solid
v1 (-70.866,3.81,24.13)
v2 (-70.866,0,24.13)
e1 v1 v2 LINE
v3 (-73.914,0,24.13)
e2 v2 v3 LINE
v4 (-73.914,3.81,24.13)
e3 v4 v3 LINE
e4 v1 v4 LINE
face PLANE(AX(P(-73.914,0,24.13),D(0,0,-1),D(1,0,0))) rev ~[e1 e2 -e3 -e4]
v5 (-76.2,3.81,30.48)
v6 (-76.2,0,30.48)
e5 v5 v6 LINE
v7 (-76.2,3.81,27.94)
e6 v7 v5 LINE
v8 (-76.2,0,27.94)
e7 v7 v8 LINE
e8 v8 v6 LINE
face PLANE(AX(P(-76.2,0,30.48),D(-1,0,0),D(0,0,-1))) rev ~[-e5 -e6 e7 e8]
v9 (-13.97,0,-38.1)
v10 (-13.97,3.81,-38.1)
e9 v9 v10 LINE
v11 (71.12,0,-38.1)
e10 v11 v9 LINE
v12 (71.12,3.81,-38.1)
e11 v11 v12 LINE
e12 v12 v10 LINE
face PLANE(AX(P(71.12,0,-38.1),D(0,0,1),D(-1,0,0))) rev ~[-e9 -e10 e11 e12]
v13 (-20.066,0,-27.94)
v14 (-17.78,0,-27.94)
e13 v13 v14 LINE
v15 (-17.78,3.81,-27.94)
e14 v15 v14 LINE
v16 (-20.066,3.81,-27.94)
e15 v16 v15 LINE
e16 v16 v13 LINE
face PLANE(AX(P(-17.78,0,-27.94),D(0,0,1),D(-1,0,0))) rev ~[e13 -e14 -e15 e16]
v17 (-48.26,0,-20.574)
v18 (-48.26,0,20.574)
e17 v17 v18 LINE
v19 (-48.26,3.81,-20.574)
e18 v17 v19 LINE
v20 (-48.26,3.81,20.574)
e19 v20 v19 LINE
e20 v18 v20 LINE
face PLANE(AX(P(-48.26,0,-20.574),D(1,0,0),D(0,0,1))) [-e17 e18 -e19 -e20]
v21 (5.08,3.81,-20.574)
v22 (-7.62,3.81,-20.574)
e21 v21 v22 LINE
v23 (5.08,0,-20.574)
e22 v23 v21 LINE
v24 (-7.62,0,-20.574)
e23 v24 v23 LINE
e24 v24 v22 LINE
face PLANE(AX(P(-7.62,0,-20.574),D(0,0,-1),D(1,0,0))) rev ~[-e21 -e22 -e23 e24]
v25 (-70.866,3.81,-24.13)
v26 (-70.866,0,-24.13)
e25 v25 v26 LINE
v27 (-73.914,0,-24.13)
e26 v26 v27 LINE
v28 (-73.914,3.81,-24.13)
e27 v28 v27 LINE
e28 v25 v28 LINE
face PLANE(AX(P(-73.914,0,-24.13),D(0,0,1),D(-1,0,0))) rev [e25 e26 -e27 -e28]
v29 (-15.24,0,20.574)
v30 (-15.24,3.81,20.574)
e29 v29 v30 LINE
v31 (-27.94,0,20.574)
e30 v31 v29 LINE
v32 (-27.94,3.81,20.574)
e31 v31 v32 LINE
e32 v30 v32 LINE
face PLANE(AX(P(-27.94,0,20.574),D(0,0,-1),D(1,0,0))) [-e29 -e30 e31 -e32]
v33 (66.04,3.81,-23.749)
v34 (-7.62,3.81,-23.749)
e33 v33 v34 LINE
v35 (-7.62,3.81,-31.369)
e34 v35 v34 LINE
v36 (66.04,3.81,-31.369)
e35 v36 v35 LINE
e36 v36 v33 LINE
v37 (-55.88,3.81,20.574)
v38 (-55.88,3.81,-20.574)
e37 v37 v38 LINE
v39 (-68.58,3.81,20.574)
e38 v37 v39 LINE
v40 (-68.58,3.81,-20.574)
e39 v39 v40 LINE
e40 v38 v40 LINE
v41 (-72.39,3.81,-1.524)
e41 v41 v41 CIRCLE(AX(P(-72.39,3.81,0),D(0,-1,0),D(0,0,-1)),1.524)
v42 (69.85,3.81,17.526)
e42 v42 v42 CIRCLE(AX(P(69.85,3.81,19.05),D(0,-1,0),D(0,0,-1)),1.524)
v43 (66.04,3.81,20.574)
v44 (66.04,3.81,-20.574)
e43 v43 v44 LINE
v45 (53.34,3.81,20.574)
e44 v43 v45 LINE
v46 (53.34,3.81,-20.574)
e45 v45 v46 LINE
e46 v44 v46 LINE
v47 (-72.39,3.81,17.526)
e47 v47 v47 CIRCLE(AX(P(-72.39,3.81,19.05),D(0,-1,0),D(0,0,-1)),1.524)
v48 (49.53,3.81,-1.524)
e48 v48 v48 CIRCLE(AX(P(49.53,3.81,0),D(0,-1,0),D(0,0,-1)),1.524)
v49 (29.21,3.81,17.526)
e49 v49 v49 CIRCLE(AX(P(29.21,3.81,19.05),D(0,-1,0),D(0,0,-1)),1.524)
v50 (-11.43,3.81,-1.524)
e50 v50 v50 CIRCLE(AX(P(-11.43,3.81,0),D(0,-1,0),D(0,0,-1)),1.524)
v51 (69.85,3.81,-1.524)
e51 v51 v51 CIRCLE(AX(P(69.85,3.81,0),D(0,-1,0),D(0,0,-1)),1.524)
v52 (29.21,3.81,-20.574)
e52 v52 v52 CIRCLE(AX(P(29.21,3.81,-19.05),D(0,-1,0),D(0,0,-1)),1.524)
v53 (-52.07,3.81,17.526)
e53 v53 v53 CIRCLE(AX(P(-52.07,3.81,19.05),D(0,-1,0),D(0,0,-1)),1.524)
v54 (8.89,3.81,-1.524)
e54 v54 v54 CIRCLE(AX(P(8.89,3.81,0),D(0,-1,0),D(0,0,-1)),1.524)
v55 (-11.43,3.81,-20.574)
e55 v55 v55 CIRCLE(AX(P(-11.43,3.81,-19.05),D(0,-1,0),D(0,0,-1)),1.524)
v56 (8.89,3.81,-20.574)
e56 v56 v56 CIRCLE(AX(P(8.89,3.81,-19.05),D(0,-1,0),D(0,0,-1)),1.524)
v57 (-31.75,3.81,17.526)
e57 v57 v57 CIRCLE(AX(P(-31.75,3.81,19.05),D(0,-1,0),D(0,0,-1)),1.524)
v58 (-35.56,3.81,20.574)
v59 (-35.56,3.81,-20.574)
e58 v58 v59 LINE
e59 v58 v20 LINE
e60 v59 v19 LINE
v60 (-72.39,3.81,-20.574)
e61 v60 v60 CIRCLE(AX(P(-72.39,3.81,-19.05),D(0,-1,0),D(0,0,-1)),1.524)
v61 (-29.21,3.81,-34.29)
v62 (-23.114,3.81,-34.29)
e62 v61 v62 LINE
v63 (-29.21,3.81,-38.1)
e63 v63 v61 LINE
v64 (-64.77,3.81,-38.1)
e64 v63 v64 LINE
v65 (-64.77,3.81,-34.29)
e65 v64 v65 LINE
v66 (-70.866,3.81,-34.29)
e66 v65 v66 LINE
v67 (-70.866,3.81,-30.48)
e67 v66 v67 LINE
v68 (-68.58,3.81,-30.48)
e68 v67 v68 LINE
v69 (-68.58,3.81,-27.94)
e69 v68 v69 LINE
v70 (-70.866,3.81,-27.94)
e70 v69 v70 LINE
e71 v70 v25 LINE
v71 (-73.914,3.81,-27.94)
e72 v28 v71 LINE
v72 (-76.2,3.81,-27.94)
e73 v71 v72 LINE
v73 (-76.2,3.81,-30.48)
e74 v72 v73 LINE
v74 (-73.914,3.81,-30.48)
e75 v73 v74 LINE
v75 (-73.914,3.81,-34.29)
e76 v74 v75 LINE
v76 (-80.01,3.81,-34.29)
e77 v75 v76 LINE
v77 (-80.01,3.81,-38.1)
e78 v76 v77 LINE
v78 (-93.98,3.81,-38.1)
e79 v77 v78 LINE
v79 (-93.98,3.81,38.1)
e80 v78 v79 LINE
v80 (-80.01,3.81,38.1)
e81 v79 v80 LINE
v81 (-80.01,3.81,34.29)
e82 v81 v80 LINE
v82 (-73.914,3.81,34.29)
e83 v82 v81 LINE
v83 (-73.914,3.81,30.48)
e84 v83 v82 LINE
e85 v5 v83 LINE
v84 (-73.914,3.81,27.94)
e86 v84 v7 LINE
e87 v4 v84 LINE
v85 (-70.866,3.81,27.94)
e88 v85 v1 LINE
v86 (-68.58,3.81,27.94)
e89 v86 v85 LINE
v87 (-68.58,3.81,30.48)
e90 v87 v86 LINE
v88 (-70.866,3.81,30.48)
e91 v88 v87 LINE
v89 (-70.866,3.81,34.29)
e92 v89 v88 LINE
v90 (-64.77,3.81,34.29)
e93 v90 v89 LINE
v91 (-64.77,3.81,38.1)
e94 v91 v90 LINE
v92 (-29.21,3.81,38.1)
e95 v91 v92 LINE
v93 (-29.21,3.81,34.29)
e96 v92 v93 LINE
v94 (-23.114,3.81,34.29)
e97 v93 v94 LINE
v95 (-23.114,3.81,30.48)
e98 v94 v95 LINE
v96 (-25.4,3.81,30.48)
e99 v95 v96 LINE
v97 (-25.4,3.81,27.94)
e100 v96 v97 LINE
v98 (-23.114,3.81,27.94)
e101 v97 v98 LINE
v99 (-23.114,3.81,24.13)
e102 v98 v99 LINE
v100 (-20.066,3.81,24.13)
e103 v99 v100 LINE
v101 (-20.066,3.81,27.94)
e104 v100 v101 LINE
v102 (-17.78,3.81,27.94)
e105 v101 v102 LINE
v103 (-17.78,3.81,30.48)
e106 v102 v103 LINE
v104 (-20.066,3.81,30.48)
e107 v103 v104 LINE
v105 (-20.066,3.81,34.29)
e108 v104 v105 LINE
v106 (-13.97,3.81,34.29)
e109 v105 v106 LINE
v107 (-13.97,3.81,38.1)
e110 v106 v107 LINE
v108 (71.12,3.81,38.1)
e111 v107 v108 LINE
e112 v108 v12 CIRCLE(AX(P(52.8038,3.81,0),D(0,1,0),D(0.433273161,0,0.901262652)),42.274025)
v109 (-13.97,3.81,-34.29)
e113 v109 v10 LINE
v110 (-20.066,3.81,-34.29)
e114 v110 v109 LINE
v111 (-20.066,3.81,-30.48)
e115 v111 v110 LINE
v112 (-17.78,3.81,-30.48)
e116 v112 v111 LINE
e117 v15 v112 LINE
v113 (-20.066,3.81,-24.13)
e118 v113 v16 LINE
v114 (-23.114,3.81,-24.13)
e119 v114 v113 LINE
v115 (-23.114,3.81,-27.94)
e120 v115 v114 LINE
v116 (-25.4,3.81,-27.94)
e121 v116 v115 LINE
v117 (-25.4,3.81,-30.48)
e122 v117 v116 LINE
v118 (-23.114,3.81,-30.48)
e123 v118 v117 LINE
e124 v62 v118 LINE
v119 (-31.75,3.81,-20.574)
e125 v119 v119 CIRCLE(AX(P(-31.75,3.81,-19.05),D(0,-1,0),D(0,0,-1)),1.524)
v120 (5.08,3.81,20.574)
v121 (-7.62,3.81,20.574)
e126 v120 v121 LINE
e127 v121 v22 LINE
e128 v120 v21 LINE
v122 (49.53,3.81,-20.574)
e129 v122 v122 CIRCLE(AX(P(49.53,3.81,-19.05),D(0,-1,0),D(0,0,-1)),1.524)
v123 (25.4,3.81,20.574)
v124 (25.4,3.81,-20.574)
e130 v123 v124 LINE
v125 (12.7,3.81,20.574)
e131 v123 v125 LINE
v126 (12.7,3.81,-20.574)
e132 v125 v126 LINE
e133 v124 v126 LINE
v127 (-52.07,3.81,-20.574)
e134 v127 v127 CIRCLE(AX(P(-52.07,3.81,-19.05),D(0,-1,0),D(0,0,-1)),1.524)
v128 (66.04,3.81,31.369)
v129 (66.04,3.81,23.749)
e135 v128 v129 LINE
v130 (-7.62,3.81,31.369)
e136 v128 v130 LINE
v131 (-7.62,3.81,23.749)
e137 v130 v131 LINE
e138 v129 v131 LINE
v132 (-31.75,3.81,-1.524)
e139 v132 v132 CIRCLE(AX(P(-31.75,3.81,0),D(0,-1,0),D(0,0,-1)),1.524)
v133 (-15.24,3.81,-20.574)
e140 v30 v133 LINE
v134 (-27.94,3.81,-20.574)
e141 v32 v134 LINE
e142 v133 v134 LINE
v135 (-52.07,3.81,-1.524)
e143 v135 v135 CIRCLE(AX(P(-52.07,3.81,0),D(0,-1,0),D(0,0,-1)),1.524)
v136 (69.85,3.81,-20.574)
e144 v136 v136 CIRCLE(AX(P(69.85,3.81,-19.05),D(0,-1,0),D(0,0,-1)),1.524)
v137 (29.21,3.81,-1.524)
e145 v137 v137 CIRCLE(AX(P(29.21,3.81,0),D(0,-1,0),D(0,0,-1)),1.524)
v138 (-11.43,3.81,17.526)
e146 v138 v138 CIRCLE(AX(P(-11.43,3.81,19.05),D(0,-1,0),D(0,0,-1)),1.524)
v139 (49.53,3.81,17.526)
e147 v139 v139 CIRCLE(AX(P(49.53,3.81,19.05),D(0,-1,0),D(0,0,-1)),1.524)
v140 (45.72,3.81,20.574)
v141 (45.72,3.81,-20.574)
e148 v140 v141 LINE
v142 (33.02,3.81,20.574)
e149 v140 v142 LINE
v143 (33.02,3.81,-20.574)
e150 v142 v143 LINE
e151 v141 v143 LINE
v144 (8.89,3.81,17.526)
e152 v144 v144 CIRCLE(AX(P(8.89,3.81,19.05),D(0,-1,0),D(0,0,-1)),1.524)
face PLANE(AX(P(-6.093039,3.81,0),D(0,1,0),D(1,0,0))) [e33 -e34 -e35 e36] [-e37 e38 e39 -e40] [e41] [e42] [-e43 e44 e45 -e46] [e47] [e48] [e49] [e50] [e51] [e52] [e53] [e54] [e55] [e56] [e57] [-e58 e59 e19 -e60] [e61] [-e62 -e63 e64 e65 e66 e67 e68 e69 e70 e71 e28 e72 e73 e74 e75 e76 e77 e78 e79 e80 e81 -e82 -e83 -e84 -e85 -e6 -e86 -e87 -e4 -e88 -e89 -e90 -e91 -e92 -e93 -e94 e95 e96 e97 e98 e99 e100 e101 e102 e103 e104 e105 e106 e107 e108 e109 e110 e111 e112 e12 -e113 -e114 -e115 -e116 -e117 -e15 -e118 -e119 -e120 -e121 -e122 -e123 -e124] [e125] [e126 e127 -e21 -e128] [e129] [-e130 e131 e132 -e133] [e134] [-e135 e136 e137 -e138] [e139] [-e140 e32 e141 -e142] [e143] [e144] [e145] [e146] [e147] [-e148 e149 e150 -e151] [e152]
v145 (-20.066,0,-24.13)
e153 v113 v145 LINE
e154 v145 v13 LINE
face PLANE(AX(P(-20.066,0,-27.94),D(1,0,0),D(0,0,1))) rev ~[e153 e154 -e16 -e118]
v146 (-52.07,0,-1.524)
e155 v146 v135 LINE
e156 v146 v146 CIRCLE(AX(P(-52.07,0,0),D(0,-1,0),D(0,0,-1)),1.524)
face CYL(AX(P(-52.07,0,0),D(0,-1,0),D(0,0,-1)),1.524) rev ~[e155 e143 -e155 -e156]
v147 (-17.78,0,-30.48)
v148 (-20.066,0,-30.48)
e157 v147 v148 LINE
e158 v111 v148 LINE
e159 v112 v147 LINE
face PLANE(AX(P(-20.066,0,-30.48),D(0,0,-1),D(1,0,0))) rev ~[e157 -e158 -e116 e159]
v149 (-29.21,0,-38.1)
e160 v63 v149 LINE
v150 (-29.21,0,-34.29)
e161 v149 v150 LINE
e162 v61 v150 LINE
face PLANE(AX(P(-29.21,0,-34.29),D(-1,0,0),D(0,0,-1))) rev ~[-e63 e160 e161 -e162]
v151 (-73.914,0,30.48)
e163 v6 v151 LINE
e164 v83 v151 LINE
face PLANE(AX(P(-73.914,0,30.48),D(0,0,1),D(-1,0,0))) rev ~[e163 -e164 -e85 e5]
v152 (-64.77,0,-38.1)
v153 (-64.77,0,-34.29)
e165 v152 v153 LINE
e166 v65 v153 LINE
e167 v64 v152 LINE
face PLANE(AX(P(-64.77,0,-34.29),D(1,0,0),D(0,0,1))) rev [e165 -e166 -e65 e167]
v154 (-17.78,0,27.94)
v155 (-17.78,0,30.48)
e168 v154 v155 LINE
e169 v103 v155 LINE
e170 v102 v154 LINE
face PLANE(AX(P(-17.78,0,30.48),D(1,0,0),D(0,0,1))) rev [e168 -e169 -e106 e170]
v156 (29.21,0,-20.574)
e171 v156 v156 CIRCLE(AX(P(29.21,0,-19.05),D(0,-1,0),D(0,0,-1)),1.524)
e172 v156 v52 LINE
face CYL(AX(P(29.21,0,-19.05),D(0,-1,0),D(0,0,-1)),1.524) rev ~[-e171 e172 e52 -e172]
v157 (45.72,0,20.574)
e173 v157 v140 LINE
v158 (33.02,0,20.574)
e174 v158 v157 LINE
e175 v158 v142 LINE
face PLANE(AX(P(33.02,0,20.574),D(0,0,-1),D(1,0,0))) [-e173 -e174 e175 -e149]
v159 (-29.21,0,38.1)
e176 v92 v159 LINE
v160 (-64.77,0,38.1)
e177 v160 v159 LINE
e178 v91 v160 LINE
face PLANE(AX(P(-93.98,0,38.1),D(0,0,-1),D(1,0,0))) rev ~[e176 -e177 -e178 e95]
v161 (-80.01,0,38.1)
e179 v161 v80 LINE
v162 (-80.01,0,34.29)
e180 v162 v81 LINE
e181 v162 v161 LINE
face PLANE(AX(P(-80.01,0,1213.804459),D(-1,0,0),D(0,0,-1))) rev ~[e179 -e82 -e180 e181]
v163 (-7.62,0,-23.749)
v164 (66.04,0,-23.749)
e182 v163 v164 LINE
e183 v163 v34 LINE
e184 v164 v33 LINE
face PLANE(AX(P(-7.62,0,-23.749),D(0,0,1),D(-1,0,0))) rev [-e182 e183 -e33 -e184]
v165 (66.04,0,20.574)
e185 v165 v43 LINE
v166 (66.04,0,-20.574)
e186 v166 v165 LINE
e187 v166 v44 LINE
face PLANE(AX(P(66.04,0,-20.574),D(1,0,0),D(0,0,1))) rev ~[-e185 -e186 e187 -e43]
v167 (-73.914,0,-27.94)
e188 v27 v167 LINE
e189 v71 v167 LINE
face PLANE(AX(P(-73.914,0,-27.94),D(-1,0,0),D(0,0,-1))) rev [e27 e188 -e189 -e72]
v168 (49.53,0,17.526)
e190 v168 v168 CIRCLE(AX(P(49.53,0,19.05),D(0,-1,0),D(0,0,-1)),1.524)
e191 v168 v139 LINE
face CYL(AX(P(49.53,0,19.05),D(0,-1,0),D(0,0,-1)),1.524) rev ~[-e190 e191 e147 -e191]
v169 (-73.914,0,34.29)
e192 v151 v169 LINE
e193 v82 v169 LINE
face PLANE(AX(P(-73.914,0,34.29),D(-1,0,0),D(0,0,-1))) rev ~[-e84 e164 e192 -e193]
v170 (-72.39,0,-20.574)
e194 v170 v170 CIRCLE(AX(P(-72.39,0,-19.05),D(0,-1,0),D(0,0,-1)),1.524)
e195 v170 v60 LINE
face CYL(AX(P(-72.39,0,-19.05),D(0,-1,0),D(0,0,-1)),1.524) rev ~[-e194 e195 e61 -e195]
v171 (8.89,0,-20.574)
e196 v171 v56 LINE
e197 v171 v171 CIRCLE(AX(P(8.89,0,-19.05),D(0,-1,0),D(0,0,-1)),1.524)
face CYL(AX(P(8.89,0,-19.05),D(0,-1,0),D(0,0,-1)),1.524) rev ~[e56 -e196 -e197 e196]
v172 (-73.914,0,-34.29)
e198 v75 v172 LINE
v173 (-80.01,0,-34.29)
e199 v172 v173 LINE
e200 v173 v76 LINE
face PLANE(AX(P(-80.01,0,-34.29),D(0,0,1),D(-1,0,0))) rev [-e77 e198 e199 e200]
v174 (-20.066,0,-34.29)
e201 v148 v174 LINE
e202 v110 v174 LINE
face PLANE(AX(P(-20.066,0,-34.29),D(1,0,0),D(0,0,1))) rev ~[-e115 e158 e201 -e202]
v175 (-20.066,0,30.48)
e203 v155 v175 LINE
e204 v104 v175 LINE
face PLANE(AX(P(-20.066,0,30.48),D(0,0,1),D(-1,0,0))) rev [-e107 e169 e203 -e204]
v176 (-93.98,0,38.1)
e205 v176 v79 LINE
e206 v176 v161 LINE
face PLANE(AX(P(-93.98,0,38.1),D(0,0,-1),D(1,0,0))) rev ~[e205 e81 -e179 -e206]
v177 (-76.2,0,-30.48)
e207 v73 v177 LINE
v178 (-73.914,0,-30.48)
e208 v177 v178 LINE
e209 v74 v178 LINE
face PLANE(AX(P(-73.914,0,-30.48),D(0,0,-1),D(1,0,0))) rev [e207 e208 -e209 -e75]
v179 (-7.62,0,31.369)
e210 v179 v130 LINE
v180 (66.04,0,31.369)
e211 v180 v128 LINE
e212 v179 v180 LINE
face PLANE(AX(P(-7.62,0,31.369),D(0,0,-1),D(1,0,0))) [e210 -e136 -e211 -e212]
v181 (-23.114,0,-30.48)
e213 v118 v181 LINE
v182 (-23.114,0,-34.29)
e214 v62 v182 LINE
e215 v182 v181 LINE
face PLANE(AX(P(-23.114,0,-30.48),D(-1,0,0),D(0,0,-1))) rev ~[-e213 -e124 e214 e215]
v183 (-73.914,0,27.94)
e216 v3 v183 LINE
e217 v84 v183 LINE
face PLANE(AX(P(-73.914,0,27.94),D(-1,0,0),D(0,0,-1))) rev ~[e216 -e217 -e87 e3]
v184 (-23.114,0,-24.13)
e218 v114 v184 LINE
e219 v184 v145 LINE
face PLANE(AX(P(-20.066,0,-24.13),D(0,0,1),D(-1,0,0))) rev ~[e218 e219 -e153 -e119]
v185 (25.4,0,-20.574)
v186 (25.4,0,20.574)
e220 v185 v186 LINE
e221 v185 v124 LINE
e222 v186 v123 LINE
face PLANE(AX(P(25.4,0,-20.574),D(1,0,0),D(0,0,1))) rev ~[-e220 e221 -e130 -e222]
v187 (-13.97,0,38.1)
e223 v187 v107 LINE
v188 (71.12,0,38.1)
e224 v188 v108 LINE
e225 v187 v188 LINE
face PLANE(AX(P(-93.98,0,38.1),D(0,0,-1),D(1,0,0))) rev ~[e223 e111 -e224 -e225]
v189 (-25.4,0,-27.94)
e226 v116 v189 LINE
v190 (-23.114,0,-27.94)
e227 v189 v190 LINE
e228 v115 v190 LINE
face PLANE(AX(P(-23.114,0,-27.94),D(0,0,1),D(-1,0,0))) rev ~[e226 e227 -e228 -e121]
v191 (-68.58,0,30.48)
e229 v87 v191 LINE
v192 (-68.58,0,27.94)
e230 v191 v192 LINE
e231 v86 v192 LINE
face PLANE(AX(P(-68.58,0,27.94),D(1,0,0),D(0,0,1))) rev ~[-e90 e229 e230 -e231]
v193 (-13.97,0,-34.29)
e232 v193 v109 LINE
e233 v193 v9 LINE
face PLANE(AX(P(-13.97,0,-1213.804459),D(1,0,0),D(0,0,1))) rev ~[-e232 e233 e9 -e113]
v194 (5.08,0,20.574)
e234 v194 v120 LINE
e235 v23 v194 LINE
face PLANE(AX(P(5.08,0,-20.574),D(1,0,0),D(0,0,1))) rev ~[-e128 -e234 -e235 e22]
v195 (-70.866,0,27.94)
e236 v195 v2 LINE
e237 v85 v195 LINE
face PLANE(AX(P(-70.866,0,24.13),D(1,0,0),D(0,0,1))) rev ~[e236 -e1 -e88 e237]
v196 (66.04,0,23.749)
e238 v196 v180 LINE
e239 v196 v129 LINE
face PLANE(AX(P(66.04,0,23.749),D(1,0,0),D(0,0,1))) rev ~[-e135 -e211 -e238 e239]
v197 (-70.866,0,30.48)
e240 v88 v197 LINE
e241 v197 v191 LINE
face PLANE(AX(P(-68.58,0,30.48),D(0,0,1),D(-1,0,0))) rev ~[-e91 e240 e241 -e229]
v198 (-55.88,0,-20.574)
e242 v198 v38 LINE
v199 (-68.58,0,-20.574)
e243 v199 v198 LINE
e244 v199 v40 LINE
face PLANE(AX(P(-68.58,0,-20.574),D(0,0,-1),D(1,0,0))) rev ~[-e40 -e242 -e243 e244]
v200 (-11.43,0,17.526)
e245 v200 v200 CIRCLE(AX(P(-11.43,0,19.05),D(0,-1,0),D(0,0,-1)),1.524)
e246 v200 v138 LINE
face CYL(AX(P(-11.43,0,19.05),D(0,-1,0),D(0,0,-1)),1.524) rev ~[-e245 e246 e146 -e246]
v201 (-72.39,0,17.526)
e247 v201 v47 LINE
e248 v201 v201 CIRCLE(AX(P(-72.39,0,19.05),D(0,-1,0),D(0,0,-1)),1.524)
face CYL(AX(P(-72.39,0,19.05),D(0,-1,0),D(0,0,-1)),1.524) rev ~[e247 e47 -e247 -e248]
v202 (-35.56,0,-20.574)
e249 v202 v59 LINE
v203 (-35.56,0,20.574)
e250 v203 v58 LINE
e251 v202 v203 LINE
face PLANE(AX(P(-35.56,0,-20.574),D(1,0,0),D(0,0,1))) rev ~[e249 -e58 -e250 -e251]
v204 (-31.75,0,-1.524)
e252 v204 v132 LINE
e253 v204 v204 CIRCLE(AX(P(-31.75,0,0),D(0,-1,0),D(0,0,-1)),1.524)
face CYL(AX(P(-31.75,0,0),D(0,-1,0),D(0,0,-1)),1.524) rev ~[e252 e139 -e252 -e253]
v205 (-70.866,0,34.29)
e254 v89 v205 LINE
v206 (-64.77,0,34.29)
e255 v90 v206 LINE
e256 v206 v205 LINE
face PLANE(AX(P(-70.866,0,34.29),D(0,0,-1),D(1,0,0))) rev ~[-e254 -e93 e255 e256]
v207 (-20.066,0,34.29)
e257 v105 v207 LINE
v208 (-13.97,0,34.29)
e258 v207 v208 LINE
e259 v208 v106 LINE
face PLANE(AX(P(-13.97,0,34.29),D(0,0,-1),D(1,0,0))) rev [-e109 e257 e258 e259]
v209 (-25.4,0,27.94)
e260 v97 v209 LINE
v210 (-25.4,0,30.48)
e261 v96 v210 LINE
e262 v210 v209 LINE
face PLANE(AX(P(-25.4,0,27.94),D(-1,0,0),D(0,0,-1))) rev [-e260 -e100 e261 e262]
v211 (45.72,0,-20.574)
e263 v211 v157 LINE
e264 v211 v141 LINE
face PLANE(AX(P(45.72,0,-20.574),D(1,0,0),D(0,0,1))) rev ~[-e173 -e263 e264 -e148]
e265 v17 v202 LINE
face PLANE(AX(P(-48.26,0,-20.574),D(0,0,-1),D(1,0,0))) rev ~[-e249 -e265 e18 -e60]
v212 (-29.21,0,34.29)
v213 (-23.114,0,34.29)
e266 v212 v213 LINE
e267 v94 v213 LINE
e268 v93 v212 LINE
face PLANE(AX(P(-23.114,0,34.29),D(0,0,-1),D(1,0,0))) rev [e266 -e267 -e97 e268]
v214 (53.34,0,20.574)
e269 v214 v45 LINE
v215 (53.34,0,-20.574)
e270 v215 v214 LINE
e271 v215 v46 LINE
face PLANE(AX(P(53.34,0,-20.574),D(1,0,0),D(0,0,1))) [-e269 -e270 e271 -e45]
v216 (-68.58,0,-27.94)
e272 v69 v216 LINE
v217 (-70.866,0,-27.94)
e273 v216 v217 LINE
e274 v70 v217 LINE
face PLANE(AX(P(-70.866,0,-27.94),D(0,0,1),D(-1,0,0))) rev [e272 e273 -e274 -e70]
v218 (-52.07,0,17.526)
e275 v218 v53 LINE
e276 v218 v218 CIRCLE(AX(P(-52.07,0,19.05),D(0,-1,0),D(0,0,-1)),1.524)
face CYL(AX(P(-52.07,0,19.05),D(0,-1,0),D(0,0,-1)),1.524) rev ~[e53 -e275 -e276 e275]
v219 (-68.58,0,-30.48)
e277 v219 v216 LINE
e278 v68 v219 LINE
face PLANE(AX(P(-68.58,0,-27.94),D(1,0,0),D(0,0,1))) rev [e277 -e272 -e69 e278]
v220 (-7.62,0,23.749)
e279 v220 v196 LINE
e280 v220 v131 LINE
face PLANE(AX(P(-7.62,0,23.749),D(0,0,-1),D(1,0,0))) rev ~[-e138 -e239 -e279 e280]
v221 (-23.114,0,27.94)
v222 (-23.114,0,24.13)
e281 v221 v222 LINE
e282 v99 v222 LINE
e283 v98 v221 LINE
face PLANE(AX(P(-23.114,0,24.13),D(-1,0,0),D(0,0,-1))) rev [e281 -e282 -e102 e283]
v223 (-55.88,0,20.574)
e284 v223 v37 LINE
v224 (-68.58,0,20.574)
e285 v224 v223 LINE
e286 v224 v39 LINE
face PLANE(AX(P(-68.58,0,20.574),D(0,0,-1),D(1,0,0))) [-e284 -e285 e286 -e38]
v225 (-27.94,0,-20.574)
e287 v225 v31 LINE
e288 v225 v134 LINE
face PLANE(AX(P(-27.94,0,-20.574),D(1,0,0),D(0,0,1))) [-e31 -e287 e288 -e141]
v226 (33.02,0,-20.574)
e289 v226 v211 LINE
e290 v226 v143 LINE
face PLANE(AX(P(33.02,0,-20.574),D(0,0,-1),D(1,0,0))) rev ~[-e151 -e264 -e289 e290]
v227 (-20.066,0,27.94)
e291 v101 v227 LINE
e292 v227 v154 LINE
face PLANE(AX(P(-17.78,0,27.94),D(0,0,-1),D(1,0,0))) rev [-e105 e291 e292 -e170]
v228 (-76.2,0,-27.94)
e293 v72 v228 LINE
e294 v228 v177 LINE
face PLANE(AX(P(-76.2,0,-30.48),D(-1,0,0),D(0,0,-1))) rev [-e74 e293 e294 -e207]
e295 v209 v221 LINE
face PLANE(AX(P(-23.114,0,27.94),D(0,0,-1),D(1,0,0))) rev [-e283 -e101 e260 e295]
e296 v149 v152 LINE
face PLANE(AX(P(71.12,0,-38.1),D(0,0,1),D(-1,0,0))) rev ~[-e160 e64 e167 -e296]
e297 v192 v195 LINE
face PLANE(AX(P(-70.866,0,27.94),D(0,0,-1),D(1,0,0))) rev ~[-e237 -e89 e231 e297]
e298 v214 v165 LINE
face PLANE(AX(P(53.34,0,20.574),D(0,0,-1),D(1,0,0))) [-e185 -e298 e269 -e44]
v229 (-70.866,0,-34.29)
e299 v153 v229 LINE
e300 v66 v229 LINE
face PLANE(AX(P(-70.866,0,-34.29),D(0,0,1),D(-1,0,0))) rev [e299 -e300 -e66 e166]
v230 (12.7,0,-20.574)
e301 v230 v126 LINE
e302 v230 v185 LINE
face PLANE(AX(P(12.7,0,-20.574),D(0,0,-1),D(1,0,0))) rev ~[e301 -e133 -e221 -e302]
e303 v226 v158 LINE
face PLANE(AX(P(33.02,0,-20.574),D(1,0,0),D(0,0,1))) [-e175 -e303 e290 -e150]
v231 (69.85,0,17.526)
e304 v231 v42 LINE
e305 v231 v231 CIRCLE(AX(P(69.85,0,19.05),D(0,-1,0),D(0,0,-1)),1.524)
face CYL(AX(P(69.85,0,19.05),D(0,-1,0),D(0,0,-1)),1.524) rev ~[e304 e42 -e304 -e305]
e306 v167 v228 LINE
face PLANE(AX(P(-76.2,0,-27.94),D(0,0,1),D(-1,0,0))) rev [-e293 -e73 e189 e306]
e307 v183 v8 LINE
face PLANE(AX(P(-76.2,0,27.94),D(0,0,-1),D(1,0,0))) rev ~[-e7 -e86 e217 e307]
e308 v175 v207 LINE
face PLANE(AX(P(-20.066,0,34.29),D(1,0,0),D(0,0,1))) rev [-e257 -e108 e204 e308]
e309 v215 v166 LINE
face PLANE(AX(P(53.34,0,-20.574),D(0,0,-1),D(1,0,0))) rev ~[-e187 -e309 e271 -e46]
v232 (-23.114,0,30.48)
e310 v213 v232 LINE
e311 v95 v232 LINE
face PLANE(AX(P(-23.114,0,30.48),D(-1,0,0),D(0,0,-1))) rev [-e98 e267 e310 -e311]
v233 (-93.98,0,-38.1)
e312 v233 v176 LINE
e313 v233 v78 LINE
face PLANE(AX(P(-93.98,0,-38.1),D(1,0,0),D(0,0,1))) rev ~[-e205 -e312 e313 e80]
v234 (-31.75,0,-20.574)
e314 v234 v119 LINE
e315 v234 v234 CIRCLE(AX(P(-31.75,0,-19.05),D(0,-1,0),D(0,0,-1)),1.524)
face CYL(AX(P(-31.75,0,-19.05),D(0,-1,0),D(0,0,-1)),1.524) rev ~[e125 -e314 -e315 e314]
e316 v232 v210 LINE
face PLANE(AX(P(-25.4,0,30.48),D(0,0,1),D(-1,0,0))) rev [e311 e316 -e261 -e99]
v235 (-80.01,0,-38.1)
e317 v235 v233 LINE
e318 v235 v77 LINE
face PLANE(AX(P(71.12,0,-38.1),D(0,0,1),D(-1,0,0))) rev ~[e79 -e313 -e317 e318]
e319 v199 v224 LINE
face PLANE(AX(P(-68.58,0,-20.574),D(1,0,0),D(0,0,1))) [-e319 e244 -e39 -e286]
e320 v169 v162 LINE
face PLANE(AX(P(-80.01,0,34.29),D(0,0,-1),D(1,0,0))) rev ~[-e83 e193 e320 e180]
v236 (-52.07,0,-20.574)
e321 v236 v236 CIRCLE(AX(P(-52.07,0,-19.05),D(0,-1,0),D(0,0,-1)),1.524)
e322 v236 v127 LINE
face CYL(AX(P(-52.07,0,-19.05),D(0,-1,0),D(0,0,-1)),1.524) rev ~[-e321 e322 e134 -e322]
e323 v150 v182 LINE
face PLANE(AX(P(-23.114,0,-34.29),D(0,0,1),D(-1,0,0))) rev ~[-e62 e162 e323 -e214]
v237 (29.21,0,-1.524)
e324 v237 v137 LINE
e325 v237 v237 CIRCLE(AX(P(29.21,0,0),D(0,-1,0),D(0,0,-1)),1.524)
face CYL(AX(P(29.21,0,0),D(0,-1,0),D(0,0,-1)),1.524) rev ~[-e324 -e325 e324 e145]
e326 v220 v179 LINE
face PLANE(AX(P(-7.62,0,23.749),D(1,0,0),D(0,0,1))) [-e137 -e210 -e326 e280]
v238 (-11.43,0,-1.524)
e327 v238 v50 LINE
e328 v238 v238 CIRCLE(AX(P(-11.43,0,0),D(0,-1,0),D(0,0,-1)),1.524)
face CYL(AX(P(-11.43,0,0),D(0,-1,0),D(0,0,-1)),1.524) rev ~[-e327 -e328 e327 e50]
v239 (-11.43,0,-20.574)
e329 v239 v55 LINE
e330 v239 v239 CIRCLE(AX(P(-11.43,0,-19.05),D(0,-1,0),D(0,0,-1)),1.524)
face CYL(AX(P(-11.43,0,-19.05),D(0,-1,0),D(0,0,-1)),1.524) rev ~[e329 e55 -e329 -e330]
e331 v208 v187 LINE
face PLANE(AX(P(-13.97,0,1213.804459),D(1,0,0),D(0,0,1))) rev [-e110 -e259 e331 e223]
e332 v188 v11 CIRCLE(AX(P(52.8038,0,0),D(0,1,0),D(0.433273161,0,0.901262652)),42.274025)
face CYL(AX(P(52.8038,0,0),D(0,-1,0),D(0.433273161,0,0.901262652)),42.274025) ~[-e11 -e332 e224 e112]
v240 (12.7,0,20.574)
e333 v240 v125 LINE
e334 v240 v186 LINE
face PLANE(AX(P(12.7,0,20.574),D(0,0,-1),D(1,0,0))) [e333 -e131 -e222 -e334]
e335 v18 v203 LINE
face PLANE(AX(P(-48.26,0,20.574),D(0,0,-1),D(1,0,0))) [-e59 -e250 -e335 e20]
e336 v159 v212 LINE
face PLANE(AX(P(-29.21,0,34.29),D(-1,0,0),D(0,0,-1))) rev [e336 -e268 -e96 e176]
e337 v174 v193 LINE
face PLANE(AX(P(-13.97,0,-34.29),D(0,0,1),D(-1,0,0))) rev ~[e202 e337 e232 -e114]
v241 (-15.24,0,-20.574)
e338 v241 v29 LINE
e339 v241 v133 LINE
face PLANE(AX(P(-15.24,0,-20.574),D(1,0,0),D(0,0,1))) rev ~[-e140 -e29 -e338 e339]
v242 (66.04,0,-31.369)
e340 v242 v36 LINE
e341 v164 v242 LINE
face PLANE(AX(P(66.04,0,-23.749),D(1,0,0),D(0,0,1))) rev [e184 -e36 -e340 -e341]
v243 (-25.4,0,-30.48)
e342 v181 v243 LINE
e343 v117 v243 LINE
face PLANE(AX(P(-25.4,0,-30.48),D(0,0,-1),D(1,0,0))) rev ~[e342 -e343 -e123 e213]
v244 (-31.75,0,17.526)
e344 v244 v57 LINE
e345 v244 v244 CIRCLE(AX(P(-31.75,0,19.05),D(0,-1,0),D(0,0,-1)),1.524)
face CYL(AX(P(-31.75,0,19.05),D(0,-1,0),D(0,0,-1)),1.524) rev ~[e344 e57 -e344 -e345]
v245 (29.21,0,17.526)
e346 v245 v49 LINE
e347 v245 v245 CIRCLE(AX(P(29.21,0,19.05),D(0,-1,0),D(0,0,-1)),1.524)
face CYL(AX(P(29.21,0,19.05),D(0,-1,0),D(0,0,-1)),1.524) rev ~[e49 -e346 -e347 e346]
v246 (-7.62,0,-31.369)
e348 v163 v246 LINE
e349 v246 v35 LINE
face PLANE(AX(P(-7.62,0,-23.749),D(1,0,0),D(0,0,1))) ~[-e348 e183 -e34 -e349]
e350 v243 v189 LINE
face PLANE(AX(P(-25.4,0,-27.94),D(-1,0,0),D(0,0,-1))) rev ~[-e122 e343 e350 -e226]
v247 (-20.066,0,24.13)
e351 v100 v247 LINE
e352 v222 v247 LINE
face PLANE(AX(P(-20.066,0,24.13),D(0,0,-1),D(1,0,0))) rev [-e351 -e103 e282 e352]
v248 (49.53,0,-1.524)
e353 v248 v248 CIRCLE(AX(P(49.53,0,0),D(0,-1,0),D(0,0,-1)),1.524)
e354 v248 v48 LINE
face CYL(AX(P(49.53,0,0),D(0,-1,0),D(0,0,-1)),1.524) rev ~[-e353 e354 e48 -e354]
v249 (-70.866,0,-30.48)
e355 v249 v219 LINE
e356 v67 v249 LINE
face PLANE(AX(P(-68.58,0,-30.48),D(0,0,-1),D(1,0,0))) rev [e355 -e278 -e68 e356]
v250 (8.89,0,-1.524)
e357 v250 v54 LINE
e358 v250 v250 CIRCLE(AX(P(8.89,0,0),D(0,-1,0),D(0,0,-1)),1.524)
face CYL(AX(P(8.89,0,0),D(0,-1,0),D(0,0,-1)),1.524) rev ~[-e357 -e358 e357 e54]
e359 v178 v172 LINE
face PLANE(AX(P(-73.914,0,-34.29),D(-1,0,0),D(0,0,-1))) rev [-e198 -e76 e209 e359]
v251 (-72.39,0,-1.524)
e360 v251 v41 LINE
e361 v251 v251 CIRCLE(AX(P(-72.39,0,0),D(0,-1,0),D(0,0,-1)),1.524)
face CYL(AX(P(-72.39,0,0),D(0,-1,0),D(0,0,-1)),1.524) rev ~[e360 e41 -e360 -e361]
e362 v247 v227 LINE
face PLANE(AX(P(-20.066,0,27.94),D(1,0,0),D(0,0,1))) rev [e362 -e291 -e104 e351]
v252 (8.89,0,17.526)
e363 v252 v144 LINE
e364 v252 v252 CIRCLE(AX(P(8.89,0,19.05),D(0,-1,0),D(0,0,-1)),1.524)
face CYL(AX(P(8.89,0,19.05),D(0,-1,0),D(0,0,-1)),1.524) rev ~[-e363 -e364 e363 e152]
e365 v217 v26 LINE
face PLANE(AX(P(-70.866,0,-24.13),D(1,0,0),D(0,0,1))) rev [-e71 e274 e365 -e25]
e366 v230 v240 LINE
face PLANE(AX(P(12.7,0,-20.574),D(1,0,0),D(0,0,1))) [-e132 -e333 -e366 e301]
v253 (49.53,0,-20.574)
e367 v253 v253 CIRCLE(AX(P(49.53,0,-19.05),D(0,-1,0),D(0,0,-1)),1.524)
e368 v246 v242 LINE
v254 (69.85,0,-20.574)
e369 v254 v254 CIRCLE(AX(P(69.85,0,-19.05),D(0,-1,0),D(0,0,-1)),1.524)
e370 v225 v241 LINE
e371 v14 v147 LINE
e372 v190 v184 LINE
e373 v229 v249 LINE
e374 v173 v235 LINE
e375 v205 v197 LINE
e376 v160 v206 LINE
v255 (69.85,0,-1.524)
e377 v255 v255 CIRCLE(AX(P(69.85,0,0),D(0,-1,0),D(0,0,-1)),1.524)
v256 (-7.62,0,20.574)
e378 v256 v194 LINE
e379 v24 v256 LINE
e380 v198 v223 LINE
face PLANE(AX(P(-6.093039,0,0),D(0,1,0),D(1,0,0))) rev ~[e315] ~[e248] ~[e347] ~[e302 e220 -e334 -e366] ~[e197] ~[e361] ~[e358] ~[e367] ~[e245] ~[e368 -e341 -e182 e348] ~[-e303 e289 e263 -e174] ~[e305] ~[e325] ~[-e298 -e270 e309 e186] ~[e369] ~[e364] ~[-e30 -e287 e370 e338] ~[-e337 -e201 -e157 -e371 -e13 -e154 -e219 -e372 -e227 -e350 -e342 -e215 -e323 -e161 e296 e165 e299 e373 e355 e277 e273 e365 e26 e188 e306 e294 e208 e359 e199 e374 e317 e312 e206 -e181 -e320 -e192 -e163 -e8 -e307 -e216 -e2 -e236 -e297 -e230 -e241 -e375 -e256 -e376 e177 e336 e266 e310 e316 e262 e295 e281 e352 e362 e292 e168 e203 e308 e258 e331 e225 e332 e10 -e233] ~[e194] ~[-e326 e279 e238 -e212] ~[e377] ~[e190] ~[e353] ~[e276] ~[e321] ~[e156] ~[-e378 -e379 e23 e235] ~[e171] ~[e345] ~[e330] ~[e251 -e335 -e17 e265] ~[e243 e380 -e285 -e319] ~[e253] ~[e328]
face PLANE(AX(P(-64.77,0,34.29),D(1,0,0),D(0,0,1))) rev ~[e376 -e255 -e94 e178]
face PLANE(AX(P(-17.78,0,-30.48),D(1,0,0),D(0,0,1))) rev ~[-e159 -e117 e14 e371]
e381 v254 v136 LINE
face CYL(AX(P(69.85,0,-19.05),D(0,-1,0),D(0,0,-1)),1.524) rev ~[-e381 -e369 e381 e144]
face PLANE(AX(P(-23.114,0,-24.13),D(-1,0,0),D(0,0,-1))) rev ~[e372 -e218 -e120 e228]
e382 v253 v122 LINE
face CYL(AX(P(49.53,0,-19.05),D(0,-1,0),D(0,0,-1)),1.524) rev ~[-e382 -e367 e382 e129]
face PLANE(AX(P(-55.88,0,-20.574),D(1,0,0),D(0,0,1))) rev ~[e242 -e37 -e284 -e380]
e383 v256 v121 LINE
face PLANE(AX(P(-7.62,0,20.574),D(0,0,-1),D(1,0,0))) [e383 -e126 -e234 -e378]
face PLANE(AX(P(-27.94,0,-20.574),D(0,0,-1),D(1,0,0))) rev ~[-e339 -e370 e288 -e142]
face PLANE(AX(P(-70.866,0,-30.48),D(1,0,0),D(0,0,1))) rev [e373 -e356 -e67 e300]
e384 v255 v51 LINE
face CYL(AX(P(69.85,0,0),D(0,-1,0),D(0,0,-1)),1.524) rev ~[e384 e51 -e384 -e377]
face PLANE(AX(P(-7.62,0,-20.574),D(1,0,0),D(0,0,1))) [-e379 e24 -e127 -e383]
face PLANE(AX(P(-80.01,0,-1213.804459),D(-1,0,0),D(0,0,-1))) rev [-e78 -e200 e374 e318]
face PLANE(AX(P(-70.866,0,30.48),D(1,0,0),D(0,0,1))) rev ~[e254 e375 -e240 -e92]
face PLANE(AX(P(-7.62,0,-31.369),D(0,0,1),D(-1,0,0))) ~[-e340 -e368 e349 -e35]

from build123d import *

# Parameters (mm, degrees)
BOSS_EXTRUDE1_DEPTH  = 3.81
CUT_EXTRUDE8_DEPTH   = 103.498384567
MIRROR6_COPY_1_DEPTH = 103.498384567
SKETCH5_R            = 1.524
CUT_EXTRUDE2_DEPTH   = 103.498384567
LPATTERN1_COUNT      = 3
LPATTERN1_PITCH      = 19.05
LPATTERN1_COUNT_DIR2 = 8
LPATTERN1_PITCH_DIR2 = 20.32
SKETCH6_W            = 12.7
SKETCH6_H            = 41.148
CUT_EXTRUDE5_DEPTH   = 103.498384567
LPATTERN2_COUNT      = 3
LPATTERN2_PITCH      = 20.32
LPATTERN3_COUNT      = 5
LPATTERN3_PITCH      = 20.32
SKETCH7_W            = 73.66
SKETCH7_H            = 7.62
CUT_EXTRUDE6_DEPTH   = 103.498384567


with BuildPart() as part:
    # Sketch2 → Boss-Extrude1 (new body)
    with BuildSketch(Plane(origin=(0, 0, 0), x_dir=(1, 0, 0), z_dir=(0, 1, 0))):
        with BuildLine():
            Line((-93.98, 38.1), (-93.98, -38.1))
            Line((-93.98, -38.1), (71.12, -38.1))
            ThreePointArc((71.12, -38.1), (95.077824642, 0), (71.12, 38.1))
            Line((71.12, 38.1), (-93.98, 38.1))
        make_face()
    extrude(amount=BOSS_EXTRUDE1_DEPTH)

    # Sketch9 → Cut-Extrude8 (cut, symmetric)
    with BuildSketch(Plane.XZ):
        Polygon((-80.01, 430.001486449), (-80.01, 38.1), (-80.01, 34.29), (-73.914, 34.29), (-73.914, 30.48), (-76.2, 30.48), (-76.2, 27.94), (-73.914, 27.94), (-73.914, 24.13), (-70.866, 24.13), (-70.866, 27.94), (-68.58, 27.94), (-68.58, 30.48), (-70.866, 30.48), (-70.866, 34.29), (-64.77, 34.29), (-64.77, 38.1), (-64.77, 430.001486449), (-64.77, 1213.804459348), (-80.01, 1213.804459348), align=None)
    cut_extrude8 = extrude(amount=CUT_EXTRUDE8_DEPTH, both=True, mode=Mode.SUBTRACT)

    # Mirror5: Cut-Extrude8 across plane
    add(cut_extrude8.mirror(Plane(origin=(-46.99, 0, 0), x_dir=(0, 0, 1), z_dir=(1, 0, 0))), mode=Mode.SUBTRACT)

    # Mirror6: Cut-Extrude8 across plane
    add(cut_extrude8.mirror(Plane.XY), mode=Mode.SUBTRACT)

    # Mirror6 copy 1 sketch → Mirror6 copy 1 (cut, symmetric)
    with BuildSketch(Plane(origin=(-93.98, 0, 0), x_dir=(-1, 0, 0), z_dir=(0, -1, 0))):
        Polygon((-80.01, 430.001486449), (-80.01, 38.1), (-80.01, 34.29), (-73.914, 34.29), (-73.914, 30.48), (-76.2, 30.48), (-76.2, 27.94), (-73.914, 27.94), (-73.914, 24.13), (-70.866, 24.13), (-70.866, 27.94), (-68.58, 27.94), (-68.58, 30.48), (-70.866, 30.48), (-70.866, 34.29), (-64.77, 34.29), (-64.77, 38.1), (-64.77, 430.001486449), (-64.77, 1213.804459348), (-80.01, 1213.804459348), align=None)
    extrude(amount=MIRROR6_COPY_1_DEPTH, both=True, mode=Mode.SUBTRACT)

    # Sketch5 → Cut-Extrude2 (cut, through all)
    with BuildSketch(Plane.XZ):
        with Locations(Location((-72.39, 19.05, 0), (0, 0, 270))):
            Circle(SKETCH5_R)
    cut_extrude2 = extrude(amount=-CUT_EXTRUDE2_DEPTH, mode=Mode.SUBTRACT)

    # LPattern1: Cut-Extrude2 3 × 8
    with Locations(*[(j * LPATTERN1_PITCH_DIR2, 0, -i * LPATTERN1_PITCH) for i in range(LPATTERN1_COUNT) for j in range(LPATTERN1_COUNT_DIR2) if (i, j) != (0, 0)]):
        add(cut_extrude2, mode=Mode.SUBTRACT)

    # Sketch6 → Cut-Extrude5 (cut, through all)
    with BuildSketch(Plane.XZ):
        with Locations((-21.59, 0)):
            Rectangle(SKETCH6_W, SKETCH6_H)
    cut_extrude5 = extrude(amount=-CUT_EXTRUDE5_DEPTH, mode=Mode.SUBTRACT)

    # LPattern2: Cut-Extrude5 ×3
    with Locations(*[(-i * LPATTERN2_PITCH, 0, 0) for i in range(1, LPATTERN2_COUNT)]):
        add(cut_extrude5, mode=Mode.SUBTRACT)

    # LPattern3: Cut-Extrude5 ×5
    with Locations(*[(i * LPATTERN3_PITCH, 0, 0) for i in range(1, LPATTERN3_COUNT)]):
        add(cut_extrude5, mode=Mode.SUBTRACT)

    # Sketch7 → Cut-Extrude6 (cut, through all)
    with BuildSketch(Plane.XZ):
        with Locations((29.21, 27.559)):
            Rectangle(SKETCH7_W, SKETCH7_H)
    cut_extrude6 = extrude(amount=-CUT_EXTRUDE6_DEPTH, mode=Mode.SUBTRACT)

    # Mirror3: Cut-Extrude6 across plane
    add(cut_extrude6.mirror(Plane.XY), mode=Mode.SUBTRACT)


solid = part.part
